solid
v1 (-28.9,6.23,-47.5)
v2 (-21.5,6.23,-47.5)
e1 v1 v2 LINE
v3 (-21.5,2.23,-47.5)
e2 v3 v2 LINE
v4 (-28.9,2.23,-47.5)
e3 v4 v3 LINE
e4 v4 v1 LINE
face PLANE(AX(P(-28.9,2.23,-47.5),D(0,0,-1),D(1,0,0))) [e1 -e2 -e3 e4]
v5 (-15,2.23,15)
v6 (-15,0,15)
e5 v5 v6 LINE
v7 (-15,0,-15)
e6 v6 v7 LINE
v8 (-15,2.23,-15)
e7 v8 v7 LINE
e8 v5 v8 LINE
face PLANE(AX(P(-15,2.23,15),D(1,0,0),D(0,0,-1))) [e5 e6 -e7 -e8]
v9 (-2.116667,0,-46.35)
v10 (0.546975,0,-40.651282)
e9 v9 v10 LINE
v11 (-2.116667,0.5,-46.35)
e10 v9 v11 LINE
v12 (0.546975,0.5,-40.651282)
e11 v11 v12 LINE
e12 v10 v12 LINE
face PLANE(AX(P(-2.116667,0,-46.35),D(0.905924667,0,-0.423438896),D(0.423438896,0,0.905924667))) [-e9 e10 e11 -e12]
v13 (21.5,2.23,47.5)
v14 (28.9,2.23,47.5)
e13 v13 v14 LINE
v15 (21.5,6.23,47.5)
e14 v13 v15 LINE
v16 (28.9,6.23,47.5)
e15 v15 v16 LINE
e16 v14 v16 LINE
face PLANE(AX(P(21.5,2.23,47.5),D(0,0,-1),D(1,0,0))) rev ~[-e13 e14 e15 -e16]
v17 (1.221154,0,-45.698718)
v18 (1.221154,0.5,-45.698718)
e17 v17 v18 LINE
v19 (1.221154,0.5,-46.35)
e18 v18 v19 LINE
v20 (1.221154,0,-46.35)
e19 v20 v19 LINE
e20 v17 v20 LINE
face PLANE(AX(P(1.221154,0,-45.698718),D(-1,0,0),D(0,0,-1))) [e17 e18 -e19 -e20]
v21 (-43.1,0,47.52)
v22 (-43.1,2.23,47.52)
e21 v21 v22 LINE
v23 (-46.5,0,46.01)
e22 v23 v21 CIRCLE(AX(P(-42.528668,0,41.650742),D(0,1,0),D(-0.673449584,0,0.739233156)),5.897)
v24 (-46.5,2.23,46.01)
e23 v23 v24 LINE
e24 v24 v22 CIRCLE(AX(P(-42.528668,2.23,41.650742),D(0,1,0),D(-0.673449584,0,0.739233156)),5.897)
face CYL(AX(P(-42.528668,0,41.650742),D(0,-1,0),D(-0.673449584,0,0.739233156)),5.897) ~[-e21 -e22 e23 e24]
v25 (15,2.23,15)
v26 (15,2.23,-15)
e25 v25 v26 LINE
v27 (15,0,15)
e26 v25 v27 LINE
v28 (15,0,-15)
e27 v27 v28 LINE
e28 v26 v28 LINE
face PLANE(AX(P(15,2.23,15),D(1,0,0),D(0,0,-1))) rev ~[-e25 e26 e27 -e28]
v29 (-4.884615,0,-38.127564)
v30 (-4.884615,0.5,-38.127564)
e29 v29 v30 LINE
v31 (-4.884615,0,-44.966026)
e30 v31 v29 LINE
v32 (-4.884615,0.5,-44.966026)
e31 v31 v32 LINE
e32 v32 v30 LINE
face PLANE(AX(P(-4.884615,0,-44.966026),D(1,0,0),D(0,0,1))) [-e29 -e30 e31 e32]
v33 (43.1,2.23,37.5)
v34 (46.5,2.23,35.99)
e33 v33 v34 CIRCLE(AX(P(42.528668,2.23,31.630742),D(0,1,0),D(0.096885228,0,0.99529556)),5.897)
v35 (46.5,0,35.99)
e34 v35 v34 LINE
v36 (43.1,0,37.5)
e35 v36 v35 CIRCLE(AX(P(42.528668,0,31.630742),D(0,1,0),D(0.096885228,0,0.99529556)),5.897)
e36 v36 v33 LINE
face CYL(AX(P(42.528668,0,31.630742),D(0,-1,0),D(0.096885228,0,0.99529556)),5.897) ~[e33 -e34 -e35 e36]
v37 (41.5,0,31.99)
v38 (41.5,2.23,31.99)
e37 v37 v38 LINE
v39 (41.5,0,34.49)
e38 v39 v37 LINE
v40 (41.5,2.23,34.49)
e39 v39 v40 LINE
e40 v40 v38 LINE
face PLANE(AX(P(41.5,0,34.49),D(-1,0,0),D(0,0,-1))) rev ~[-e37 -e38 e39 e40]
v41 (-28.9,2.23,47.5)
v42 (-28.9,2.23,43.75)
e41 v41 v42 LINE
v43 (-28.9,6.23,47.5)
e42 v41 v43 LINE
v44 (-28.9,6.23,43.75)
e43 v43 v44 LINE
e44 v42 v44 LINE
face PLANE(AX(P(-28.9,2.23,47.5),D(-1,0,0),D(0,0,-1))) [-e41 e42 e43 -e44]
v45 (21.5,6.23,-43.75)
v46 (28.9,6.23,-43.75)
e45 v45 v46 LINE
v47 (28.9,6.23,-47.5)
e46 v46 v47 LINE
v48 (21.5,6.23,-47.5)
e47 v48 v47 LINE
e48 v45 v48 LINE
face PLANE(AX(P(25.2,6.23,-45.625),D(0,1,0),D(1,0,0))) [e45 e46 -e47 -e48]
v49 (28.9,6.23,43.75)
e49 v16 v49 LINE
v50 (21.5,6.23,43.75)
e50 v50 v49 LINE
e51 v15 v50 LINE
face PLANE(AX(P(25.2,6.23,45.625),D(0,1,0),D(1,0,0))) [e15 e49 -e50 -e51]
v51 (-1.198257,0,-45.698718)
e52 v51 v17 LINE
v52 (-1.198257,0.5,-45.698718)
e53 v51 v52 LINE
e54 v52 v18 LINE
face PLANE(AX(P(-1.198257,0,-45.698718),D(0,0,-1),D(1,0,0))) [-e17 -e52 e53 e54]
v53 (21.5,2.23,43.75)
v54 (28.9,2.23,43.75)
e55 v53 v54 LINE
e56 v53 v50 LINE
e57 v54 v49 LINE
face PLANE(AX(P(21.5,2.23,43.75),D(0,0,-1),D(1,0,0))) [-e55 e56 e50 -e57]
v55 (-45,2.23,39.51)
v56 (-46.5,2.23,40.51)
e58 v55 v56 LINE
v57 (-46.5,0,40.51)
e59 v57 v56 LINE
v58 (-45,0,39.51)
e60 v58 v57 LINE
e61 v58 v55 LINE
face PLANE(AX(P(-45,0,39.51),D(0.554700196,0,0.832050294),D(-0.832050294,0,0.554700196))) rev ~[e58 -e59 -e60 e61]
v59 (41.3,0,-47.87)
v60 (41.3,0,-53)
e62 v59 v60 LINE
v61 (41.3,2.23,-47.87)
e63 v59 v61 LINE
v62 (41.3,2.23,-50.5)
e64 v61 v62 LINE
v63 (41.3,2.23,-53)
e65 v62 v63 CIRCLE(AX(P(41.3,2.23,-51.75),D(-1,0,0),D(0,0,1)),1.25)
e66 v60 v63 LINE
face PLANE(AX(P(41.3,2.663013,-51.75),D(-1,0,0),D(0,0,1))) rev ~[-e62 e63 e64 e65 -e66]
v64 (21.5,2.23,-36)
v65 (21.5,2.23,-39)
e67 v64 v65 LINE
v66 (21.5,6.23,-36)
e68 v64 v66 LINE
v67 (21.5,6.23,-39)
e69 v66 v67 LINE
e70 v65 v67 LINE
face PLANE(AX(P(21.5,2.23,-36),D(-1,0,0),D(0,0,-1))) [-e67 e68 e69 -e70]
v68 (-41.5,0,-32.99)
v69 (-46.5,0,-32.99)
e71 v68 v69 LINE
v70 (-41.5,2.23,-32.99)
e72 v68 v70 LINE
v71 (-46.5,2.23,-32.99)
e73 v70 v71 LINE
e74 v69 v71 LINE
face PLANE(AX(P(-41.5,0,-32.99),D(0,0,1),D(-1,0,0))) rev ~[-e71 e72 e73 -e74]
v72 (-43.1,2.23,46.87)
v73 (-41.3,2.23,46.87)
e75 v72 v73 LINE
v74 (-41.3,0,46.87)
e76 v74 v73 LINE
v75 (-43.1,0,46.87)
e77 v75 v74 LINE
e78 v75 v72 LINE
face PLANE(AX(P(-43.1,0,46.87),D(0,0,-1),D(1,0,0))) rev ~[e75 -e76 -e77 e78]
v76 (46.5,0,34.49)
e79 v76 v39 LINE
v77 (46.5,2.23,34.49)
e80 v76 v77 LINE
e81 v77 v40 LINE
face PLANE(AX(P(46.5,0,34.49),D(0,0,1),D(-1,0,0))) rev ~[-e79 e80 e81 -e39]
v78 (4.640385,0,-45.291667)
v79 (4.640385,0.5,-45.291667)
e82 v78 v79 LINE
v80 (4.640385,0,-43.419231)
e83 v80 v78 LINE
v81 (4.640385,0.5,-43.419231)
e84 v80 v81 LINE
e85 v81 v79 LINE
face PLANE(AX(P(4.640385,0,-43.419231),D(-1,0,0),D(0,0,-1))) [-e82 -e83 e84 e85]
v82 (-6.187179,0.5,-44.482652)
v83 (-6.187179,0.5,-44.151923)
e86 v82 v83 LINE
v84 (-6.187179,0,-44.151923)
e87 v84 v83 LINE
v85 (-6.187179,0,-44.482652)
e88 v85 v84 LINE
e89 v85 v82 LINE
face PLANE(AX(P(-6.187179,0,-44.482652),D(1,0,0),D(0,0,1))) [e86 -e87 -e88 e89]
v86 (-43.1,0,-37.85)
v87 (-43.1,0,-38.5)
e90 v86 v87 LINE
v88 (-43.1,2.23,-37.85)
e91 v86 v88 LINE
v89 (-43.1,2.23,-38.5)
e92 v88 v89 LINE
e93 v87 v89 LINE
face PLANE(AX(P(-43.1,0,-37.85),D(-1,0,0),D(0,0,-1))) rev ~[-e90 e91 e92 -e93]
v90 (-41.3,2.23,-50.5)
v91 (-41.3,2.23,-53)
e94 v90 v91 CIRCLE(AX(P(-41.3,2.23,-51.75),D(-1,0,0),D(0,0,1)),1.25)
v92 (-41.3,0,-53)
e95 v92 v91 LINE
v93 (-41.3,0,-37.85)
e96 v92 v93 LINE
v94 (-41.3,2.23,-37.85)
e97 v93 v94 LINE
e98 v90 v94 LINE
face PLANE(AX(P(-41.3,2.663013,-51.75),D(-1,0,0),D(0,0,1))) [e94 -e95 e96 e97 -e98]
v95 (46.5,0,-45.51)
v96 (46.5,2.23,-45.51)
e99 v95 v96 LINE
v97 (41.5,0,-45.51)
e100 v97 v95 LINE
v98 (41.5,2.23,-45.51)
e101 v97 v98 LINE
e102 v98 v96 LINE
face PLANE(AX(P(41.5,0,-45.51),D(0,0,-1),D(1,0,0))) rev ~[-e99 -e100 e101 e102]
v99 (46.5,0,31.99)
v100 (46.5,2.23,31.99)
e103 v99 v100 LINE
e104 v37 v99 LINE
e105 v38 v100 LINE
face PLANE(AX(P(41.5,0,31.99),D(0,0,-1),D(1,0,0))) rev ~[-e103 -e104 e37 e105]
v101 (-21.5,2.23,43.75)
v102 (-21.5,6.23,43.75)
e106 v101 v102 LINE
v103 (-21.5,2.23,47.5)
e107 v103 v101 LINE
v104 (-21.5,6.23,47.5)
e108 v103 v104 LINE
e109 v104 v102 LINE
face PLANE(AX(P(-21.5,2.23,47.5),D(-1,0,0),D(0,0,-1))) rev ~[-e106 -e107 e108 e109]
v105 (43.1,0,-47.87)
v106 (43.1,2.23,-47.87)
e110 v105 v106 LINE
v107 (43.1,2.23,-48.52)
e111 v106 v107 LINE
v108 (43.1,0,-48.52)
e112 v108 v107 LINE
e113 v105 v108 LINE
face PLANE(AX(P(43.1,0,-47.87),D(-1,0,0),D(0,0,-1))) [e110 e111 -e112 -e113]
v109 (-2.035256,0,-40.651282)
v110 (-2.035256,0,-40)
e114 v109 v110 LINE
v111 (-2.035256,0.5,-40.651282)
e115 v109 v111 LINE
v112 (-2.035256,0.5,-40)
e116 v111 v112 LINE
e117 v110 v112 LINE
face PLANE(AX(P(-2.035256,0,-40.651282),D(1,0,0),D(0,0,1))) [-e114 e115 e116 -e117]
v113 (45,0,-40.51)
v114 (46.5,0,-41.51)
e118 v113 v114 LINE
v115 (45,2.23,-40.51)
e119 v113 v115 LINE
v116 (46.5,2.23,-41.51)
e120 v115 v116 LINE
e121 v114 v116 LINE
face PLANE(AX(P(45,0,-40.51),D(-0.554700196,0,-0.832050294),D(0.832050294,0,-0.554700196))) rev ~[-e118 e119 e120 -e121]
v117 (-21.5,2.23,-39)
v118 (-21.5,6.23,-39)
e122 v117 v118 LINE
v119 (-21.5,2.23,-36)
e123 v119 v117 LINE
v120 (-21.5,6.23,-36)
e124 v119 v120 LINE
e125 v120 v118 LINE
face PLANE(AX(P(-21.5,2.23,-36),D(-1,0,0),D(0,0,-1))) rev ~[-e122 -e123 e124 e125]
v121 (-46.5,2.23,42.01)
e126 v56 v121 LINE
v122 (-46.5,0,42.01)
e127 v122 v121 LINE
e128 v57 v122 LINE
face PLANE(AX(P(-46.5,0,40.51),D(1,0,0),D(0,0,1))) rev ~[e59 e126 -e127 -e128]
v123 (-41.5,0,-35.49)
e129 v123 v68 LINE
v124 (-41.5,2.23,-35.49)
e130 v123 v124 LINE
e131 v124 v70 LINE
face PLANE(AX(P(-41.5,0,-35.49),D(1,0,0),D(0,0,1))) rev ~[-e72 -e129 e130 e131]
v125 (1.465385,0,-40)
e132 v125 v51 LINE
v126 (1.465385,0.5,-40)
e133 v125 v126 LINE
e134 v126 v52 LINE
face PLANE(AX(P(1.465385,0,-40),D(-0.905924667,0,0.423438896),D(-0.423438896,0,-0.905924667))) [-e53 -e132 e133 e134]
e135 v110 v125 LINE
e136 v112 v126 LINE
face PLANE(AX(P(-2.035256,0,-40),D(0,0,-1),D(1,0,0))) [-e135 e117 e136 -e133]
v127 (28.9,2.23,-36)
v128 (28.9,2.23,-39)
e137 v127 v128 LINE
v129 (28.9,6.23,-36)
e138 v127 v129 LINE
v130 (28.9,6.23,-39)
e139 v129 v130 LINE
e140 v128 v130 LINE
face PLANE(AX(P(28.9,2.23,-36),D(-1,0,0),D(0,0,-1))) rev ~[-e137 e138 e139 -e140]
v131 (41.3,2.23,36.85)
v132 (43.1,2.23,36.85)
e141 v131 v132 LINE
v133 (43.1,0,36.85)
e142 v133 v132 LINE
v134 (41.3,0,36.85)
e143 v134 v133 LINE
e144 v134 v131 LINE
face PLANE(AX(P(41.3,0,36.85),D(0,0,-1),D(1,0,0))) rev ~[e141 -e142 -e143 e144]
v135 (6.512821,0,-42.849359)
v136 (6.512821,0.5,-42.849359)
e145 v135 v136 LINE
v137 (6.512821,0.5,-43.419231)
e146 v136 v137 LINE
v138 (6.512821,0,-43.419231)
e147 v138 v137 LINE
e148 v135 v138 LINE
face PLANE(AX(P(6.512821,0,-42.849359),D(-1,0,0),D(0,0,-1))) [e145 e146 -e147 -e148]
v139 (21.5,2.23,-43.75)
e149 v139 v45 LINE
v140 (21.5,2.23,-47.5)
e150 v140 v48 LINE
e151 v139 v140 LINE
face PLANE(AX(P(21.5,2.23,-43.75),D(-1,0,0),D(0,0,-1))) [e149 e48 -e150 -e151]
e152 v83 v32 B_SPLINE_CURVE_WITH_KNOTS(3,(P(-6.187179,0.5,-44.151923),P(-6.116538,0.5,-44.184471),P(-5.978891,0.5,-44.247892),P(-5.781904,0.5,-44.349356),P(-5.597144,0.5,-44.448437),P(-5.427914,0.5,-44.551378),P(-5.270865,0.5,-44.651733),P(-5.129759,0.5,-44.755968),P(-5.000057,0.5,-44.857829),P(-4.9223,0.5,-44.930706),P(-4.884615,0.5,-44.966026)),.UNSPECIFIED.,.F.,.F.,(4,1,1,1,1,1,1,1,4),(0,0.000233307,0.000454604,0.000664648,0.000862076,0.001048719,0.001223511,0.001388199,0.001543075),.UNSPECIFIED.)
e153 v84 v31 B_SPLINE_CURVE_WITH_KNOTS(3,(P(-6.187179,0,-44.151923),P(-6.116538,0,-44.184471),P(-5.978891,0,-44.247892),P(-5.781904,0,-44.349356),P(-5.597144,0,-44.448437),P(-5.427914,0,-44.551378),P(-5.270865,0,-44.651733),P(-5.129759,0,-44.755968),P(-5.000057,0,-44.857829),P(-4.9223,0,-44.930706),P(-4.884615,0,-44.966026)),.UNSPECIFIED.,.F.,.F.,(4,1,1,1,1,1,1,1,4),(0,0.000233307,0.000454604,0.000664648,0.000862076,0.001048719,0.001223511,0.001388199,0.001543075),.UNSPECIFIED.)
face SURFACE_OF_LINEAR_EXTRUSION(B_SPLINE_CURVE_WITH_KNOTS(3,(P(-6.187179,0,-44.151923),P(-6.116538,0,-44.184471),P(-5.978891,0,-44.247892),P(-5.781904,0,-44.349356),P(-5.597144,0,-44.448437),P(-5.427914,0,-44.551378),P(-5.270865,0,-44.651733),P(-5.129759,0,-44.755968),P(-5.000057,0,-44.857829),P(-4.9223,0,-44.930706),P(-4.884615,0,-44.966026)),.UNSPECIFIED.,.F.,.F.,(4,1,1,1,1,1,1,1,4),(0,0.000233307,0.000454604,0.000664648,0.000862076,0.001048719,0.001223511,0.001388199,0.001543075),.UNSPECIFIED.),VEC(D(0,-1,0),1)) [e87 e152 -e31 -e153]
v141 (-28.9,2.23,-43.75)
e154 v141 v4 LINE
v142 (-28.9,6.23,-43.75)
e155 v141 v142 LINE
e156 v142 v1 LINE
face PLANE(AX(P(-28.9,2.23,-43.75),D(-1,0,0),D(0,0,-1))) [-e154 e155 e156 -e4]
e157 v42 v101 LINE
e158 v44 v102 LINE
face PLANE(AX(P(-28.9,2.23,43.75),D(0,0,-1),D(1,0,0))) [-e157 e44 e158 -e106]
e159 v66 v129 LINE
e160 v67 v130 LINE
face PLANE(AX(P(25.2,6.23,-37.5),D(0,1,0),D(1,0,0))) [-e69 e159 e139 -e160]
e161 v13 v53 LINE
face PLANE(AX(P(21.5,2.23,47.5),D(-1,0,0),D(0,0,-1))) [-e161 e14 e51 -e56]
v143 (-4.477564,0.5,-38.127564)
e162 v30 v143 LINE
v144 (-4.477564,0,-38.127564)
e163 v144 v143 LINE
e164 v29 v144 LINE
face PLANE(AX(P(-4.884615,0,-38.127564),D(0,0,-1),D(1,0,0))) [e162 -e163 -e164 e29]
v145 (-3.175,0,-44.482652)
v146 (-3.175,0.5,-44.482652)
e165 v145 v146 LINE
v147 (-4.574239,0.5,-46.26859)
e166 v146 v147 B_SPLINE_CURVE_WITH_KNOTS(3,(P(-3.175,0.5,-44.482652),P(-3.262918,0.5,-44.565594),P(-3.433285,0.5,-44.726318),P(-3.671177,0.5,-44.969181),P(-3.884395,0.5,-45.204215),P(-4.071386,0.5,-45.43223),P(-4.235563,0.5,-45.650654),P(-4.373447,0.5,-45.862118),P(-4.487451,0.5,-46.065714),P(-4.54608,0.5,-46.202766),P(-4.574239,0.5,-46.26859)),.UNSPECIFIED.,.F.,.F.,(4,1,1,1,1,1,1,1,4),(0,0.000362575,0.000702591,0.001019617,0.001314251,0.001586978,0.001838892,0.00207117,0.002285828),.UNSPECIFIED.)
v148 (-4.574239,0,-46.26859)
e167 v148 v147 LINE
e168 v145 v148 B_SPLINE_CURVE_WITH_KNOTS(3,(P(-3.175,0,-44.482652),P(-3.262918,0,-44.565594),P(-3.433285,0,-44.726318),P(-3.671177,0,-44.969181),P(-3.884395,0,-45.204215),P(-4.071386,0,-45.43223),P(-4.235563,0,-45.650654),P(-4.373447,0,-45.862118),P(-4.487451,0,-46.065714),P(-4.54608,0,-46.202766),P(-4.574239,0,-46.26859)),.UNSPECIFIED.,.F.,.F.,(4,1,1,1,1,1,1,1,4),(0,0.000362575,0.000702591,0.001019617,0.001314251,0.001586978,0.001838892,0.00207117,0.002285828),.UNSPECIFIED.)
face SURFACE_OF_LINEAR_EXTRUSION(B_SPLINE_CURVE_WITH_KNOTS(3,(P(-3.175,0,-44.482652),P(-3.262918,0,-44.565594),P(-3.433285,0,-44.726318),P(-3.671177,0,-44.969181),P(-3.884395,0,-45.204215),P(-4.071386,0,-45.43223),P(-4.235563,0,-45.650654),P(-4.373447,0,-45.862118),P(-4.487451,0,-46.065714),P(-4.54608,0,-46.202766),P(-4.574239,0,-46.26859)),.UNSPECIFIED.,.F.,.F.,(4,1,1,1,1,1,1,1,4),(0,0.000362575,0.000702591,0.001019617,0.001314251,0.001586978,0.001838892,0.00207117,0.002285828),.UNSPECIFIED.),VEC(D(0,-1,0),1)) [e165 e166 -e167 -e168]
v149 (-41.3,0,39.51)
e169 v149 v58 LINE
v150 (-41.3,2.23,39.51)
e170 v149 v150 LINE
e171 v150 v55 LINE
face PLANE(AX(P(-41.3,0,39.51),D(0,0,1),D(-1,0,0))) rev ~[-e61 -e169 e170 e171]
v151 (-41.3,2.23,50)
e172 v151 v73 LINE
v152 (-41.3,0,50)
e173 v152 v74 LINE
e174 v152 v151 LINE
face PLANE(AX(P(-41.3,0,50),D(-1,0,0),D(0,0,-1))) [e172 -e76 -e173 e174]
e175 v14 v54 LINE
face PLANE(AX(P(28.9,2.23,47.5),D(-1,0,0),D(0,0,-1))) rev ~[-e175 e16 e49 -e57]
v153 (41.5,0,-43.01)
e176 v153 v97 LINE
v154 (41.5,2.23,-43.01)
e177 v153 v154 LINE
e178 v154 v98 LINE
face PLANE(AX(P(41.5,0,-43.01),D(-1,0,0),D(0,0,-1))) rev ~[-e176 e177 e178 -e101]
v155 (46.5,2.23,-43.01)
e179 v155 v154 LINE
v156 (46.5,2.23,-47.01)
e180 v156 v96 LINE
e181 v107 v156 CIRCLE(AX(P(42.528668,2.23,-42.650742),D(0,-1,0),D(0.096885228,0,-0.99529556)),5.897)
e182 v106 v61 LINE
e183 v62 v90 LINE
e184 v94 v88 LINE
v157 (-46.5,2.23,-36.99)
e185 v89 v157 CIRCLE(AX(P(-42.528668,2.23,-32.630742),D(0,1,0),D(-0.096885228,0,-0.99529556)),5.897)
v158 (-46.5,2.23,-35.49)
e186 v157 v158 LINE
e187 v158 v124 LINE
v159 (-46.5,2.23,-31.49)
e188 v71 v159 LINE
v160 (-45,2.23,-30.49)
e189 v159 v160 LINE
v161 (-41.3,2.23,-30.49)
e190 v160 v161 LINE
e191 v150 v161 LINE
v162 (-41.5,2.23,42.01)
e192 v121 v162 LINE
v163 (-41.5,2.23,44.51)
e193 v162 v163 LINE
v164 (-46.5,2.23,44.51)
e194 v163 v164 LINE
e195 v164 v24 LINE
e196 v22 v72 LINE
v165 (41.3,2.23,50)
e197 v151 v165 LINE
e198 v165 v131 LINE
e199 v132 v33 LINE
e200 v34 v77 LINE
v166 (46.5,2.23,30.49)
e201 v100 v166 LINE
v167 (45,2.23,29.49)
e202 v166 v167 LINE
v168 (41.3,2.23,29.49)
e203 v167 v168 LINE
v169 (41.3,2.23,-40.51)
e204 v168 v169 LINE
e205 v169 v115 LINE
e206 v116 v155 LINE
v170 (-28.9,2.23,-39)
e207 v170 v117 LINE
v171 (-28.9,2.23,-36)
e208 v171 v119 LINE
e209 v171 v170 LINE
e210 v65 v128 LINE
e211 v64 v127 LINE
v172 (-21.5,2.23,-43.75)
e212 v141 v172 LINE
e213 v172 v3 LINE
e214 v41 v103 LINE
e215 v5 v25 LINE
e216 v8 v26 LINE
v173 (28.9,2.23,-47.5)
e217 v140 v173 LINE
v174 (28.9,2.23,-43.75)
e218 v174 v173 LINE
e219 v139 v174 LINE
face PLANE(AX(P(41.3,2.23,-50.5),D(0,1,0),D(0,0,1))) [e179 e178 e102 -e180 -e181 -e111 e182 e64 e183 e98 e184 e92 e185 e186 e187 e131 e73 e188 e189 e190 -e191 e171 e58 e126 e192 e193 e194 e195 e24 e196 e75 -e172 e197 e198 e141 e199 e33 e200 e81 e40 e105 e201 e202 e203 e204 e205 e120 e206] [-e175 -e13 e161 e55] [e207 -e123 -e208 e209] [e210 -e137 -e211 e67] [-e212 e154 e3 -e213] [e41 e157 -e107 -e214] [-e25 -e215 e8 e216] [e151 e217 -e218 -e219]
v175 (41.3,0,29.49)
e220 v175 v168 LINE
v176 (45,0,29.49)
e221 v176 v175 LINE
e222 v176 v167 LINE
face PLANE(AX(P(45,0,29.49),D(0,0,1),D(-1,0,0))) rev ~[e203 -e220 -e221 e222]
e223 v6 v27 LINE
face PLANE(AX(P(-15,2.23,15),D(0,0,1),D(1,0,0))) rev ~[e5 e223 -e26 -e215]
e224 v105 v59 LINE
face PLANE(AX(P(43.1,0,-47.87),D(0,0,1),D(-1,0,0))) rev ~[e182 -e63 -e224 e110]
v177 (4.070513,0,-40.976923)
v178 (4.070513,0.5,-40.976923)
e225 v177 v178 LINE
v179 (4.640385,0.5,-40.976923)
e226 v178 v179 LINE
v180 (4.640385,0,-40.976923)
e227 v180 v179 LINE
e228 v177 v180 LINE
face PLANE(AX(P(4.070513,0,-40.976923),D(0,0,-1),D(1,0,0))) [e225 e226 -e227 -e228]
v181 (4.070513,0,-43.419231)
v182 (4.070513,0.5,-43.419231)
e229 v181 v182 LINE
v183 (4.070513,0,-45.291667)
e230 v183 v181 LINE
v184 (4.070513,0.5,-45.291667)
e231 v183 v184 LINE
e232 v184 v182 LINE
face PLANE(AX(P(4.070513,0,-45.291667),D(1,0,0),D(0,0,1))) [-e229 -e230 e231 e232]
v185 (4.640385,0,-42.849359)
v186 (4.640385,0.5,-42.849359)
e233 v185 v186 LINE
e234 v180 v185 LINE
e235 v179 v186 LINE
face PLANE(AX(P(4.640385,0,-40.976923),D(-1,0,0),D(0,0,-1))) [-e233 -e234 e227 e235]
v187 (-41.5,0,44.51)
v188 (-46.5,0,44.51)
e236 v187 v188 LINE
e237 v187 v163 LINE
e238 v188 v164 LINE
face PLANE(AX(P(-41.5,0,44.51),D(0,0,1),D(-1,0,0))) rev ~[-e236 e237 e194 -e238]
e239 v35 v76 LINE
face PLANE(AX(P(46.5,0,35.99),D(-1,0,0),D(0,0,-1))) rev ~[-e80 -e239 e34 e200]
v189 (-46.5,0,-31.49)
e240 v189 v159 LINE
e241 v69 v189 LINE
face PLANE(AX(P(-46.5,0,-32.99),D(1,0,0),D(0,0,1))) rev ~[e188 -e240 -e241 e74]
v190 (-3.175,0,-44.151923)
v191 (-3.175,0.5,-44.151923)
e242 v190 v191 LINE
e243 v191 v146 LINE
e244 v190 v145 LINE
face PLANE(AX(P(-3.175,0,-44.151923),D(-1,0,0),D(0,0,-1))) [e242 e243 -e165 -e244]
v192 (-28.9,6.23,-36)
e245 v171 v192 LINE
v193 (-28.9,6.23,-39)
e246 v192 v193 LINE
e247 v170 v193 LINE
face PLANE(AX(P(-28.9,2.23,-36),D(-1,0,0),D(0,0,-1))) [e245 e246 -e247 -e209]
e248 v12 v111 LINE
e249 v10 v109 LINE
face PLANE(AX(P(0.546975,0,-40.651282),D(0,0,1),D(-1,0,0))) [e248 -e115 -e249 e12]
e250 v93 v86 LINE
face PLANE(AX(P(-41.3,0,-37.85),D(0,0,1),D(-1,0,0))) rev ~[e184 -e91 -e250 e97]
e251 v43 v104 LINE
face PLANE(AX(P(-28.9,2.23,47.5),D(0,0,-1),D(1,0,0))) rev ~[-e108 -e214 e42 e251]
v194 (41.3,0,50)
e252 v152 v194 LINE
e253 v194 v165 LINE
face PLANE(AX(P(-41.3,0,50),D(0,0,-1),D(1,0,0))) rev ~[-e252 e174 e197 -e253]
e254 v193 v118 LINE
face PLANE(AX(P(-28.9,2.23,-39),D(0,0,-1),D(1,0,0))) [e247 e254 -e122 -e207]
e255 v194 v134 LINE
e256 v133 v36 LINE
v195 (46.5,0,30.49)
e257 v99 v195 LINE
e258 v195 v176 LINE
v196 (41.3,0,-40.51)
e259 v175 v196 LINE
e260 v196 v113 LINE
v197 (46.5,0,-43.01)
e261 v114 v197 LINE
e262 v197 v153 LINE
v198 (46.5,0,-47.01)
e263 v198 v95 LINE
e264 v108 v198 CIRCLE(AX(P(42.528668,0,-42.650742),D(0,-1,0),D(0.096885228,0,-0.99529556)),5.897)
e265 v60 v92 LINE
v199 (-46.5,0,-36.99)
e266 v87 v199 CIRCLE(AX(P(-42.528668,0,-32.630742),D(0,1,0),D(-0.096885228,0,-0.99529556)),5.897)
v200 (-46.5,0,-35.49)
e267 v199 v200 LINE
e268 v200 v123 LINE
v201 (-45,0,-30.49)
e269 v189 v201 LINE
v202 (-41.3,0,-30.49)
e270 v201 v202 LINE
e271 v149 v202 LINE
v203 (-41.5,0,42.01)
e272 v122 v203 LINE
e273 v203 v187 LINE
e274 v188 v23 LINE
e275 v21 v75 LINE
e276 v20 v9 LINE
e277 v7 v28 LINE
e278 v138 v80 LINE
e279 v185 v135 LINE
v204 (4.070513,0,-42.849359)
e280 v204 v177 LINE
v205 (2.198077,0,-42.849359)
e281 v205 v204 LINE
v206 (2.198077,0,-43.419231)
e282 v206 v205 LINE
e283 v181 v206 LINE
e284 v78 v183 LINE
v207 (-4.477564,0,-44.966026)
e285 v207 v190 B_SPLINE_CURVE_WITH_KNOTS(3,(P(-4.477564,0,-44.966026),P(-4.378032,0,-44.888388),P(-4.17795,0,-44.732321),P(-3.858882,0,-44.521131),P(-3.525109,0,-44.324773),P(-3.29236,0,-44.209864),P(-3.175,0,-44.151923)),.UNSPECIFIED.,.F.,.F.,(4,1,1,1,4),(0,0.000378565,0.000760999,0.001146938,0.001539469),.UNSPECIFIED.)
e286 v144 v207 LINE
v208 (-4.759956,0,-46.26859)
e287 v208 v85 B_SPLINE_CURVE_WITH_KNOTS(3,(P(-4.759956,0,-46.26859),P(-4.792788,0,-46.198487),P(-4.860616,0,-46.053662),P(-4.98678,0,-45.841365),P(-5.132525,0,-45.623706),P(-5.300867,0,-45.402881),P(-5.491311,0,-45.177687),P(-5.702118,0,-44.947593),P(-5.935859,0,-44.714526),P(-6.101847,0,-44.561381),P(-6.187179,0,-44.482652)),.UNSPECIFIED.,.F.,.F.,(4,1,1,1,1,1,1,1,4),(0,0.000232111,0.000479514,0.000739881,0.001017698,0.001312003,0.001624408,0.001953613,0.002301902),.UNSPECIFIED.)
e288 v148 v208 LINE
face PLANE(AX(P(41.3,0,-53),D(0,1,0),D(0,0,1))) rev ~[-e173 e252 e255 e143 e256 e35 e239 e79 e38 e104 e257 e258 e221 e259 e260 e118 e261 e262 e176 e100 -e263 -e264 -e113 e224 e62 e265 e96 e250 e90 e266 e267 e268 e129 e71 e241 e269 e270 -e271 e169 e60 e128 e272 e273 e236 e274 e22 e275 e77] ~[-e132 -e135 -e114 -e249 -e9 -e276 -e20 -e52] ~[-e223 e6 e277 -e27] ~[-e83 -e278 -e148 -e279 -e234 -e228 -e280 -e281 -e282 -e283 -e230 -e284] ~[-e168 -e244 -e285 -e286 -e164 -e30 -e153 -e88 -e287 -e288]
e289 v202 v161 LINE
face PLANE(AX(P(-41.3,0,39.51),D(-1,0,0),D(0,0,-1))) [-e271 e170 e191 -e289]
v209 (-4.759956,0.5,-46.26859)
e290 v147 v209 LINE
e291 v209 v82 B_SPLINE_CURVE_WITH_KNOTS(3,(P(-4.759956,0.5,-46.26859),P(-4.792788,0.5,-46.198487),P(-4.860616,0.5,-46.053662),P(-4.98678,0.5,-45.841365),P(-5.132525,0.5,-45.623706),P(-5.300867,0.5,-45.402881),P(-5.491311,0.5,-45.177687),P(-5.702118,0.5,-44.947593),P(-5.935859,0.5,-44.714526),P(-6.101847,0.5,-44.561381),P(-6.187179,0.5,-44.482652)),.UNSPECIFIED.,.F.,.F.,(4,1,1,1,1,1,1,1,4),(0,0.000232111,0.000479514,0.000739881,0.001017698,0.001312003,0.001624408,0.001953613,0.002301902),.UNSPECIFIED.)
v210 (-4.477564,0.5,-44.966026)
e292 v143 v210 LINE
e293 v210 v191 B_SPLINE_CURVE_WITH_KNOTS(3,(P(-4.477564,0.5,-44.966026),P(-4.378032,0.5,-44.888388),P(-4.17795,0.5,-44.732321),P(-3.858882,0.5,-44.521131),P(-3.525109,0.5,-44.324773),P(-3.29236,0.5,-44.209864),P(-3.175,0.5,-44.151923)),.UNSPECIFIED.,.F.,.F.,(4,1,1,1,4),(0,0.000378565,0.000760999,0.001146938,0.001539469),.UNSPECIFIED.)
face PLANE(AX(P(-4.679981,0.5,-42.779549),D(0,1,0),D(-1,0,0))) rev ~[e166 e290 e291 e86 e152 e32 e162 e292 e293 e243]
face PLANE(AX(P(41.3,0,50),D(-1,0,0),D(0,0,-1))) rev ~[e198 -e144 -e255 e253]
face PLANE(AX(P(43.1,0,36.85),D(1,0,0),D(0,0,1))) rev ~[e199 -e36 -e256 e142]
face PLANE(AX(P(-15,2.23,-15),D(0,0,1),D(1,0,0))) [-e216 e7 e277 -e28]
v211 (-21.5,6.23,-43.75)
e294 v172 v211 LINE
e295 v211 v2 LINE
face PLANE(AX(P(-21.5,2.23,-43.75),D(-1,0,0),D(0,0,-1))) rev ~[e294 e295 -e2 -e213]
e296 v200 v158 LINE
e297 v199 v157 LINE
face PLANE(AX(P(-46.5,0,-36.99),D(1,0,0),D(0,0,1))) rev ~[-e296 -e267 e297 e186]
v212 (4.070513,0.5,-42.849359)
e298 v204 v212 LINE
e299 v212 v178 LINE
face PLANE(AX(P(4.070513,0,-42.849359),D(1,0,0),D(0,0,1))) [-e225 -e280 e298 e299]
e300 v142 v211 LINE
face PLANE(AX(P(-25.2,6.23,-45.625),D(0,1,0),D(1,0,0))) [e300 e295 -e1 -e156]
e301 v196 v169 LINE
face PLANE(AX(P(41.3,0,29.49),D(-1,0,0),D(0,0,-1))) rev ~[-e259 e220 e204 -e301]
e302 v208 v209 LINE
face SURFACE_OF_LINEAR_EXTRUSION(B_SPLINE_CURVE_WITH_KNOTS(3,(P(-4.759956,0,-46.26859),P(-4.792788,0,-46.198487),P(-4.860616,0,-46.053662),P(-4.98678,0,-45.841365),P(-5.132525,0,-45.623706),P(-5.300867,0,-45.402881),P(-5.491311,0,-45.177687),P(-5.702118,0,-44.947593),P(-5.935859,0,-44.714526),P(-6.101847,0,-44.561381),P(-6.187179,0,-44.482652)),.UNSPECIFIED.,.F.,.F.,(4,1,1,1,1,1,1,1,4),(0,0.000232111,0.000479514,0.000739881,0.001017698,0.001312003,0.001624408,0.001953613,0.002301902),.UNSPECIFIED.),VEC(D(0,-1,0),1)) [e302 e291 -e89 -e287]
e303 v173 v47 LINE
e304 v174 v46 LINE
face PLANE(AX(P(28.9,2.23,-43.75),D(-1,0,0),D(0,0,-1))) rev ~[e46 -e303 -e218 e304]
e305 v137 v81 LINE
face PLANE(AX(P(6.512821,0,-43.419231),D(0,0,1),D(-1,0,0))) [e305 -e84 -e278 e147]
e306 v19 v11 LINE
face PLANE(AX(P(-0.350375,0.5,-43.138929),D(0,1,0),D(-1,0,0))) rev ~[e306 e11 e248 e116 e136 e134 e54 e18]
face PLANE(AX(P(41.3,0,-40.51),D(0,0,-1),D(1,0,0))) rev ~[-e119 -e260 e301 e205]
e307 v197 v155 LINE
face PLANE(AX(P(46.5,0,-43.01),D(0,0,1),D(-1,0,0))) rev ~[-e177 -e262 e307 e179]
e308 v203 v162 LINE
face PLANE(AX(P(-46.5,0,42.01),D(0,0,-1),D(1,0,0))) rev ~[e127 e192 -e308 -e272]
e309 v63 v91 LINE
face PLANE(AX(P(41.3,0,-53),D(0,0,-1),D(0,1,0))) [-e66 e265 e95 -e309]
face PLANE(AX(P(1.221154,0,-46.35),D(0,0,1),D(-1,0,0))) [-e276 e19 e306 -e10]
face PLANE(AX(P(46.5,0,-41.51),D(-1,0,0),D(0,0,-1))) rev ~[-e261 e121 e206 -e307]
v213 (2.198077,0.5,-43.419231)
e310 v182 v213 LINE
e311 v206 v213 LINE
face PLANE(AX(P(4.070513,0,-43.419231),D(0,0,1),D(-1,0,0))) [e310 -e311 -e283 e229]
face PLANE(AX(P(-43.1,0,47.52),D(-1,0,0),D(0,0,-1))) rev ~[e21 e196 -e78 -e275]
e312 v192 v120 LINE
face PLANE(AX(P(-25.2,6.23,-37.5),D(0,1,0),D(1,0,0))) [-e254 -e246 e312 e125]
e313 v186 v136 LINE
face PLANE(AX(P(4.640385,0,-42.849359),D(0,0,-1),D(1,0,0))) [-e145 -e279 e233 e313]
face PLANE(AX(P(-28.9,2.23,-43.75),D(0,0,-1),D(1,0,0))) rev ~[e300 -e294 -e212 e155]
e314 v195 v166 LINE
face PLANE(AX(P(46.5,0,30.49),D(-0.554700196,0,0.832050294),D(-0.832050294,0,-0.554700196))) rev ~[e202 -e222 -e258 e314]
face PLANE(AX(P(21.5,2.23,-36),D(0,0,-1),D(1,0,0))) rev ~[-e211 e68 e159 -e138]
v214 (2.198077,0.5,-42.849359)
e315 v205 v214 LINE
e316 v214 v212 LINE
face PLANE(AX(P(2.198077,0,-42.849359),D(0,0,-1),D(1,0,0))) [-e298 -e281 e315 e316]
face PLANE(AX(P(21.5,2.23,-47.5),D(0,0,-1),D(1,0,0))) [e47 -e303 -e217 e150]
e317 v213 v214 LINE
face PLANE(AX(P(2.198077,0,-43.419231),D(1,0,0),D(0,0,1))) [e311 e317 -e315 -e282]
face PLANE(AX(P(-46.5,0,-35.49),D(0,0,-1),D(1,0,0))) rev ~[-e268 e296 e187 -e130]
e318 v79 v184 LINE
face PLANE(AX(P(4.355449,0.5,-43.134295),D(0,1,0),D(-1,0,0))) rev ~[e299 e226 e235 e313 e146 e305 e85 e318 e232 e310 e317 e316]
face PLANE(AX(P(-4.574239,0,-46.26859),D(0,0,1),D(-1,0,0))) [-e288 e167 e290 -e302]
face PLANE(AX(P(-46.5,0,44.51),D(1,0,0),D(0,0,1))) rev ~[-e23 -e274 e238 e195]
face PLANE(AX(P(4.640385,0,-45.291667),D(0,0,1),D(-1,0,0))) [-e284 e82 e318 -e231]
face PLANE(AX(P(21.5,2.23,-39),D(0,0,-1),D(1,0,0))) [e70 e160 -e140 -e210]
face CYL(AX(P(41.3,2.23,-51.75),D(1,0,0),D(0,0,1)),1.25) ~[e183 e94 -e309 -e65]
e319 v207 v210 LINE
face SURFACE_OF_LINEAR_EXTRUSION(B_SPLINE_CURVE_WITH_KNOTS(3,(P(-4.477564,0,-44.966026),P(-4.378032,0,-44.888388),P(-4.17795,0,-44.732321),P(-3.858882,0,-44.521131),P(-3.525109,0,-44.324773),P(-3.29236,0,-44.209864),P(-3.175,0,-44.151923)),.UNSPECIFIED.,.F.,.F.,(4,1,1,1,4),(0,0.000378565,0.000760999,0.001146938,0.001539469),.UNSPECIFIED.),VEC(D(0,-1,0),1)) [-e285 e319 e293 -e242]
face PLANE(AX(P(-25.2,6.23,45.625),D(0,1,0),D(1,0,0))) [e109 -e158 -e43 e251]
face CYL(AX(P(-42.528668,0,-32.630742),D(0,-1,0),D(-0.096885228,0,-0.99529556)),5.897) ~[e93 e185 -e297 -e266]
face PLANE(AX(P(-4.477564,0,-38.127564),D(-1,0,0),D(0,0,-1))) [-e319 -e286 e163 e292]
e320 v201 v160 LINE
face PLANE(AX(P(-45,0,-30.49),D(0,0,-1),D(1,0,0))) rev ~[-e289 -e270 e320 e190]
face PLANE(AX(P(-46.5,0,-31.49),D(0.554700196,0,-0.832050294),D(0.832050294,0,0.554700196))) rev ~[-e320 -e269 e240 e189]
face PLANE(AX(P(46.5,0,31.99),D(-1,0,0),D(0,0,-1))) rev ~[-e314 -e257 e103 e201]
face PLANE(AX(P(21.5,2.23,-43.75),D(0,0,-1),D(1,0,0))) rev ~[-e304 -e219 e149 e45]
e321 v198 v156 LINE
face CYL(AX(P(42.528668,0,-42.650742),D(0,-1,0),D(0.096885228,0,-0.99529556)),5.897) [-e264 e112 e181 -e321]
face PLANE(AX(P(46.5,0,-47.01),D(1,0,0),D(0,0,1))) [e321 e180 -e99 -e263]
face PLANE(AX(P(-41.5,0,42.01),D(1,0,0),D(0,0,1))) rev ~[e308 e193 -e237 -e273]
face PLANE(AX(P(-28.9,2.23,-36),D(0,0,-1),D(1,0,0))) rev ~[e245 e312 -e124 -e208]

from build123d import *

# Parameters (mm, degrees)
SKETCH1_W           = 0.2
SKETCH1_H           = 2.5
SKETCH1_W_2         = 82.6
SKETCH1_H_2         = 100
BOSS_EXTRUDE1_DEPTH = 2.23
SKETCH2_W           = 7.4
SKETCH2_H           = 3.75
SKETCH2_H_2         = 3
BOSS_EXTRUDE2_DEPTH = 4
SKETCH3_W           = 30
SKETCH3_H           = 30
CUT_EXTRUDE1_DEPTH  = 10
BOSS_EXTRUDE3_START = -82.6
SKETCH4_W           = 3
SKETCH4_H           = 2.23
BOSS_EXTRUDE3_DEPTH = 82.6
CUT_EXTRUDE2_DEPTH  = 0.5


with BuildPart() as part:
    # Sketch1 → Boss-Extrude1 (new body)
    with BuildSketch(Plane(origin=(0, 0, 0), x_dir=(1, 0, 0), z_dir=(0, 1, 0))):
        with BuildLine():
            Line((43.1, -36.85), (43.1, -37.5))
            ThreePointArc((43.1, -37.5), (44.922195524, -37.020142239), (46.5, -35.99))
            Line((46.5, -35.99), (46.5, -34.49))
            Line((46.5, -34.49), (43.1, -34.49))
            Line((43.1, -34.49), (43.1, -36.85))
        make_face()
        Polygon((41.5, -34.49), (41.3, -34.49), (41.3, -36.85), (43.1, -36.85), (43.1, -34.49), align=None)
        Polygon((45, -29.49), (41.3, -29.49), (41.3, -31.99), (41.5, -31.99), (46.5, -31.99), (46.5, -30.49), align=None)
        with Locations((41.4, -33.24)):
            Rectangle(SKETCH1_W, SKETCH1_H)
        Rectangle(SKETCH1_W_2, SKETCH1_H_2)
        Polygon((46.5, 43.01), (41.5, 43.01), (41.3, 43.01), (41.3, 40.51), (45, 40.51), (46.5, 41.51), align=None)
        with Locations((41.4, 44.26)):
            Rectangle(SKETCH1_W, SKETCH1_H)
        Polygon((41.5, 45.51), (43.1, 45.51), (43.1, 47.87), (41.3, 47.87), (41.3, 45.51), align=None)
        with BuildLine():
            ThreePointArc((43.1, 48.52), (44.922195524, 48.040142239), (46.5, 47.01))
            Line((46.5, 47.01), (46.5, 45.51))
            Line((46.5, 45.51), (43.1, 45.51))
            Line((43.1, 45.51), (43.1, 47.87))
            Line((43.1, 47.87), (43.1, 48.52))
        make_face()
        with BuildLine():
            Line((-43.1, -46.87), (-41.3, -46.87))
            Line((-41.3, -46.87), (-41.3, -44.51))
            Line((-41.3, -44.51), (-41.5, -44.51))
            Line((-41.5, -44.51), (-46.5, -44.51))
            Line((-46.5, -44.51), (-46.5, -46.01))
            ThreePointArc((-46.5, -46.01), (-44.922195524, -47.040142239), (-43.1, -47.52))
            Line((-43.1, -47.52), (-43.1, -46.87))
        make_face()
        Polygon((-41.3, -44.51), (-41.3, -39.51), (-45, -39.51), (-46.5, -40.51), (-46.5, -42.01), (-41.5, -42.01), (-41.5, -44.51), align=None)
        Polygon((-41.3, 30.49), (-41.3, 35.49), (-41.5, 35.49), (-41.5, 32.99), (-46.5, 32.99), (-46.5, 31.49), (-45, 30.49), align=None)
        with BuildLine():
            Line((-41.3, 35.49), (-41.3, 37.85))
            Line((-41.3, 37.85), (-43.1, 37.85))
            Line((-43.1, 37.85), (-43.1, 38.5))
            ThreePointArc((-43.1, 38.5), (-44.922195524, 38.020142239), (-46.5, 36.99))
            Line((-46.5, 36.99), (-46.5, 35.49))
            Line((-46.5, 35.49), (-41.5, 35.49))
            Line((-41.5, 35.49), (-41.3, 35.49))
        make_face()
    extrude(amount=BOSS_EXTRUDE1_DEPTH)

    # Sketch2 → Boss-Extrude2 (add)
    with BuildSketch(Plane(origin=(0, 2.23, 0), x_dir=(1, 0, 0), z_dir=(0, 1, 0))):
        with Locations((-25.2, -45.625)):
            Rectangle(SKETCH2_W, SKETCH2_H)
        with Locations((25.2, -45.625)):
            Rectangle(SKETCH2_W, SKETCH2_H)
        with Locations((25.2, 45.625)):
            Rectangle(SKETCH2_W, SKETCH2_H)
        with Locations((-25.2, 45.625)):
            Rectangle(SKETCH2_W, SKETCH2_H)
        with Locations((-25.2, 37.5)):
            Rectangle(SKETCH2_W, SKETCH2_H_2)
        with Locations((25.2, 37.5)):
            Rectangle(SKETCH2_W, SKETCH2_H_2)
    extrude(amount=BOSS_EXTRUDE2_DEPTH)

    # Sketch3 → Cut-Extrude1 (cut)
    with BuildSketch(Plane(origin=(0, 2.23, 0), x_dir=(1, 0, 0), z_dir=(0, 1, 0))):
        Rectangle(SKETCH3_W, SKETCH3_H)
    extrude(amount=-CUT_EXTRUDE1_DEPTH, mode=Mode.SUBTRACT)

    # Sketch4 → Boss-Extrude3 (add)
    with BuildSketch(Plane.ZY.offset(41.3).offset(BOSS_EXTRUDE3_START)):
        with BuildLine():
            ThreePointArc((-50.5, 2.23), (-51.75, 3.48), (-53, 2.23))
            Line((-53, 2.23), (-50.5, 2.23))
        make_face()
        with Locations((-51.5, 1.115)):
            Rectangle(SKETCH4_W, SKETCH4_H)
    extrude(amount=BOSS_EXTRUDE3_DEPTH)

    # Sketch5 → Cut-Extrude2 (cut)
    with BuildSketch(Plane.XZ):
        Polygon((4.640384615, -43.419230769), (4.640384615, -45.291666667), (4.070512821, -45.291666667), (4.070512821, -43.419230769), (2.198076923, -43.419230769), (2.198076923, -42.849358974), (4.070512821, -42.849358974), (4.070512821, -40.976923077), (4.640384615, -40.976923077), (4.640384615, -42.849358974), (6.512820513, -42.849358974), (6.512820513, -43.419230769), align=None)
        Polygon((1.221153846, -45.698717949), (1.221153846, -46.35), (-2.116666667, -46.35), (0.54697516, -40.651282051), (-2.03525641, -40.651282051), (-2.03525641, -40), (1.465384615, -40), (-1.198257212, -45.698717949), align=None)
        with BuildLine():
            add(Edge.make_bspline(
                [(-3.175, -44.482652244), (-3.262918211, -44.565594294), (-3.433284709, -44.726318068), (-3.671176807, -44.969181062), (-3.884395029, -45.204215059), (-4.071386431, -45.432230465), (-4.235563138, -45.650653984), (-4.373446797, -45.862117777), (-4.487450991, -46.065713922), (-4.546079998, -46.202765549), (-4.574238782, -46.268589744)],
                knots=[0, 0, 0, 0, 0.000362575, 0.000702591, 0.001019617, 0.001314251, 0.001586978, 0.001838892, 0.00207117, 0.002285828, 0.002285828, 0.002285828, 0.002285828], degree=3))
            Line((-4.574238782, -46.268589744), (-4.759955929, -46.268589744))
            add(Edge.make_bspline(
                [(-4.759955929, -46.268589744), (-4.792788221, -46.198486652), (-4.860615985, -46.053661673), (-4.986779978, -45.841364869), (-5.132525091, -45.623706079), (-5.300867212, -45.402881295), (-5.491310702, -45.177687257), (-5.702118152, -44.94759275), (-5.93585869, -44.714525691), (-6.101847246, -44.561381426), (-6.187179487, -44.482652244)],
                knots=[0, 0, 0, 0, 0.000232111, 0.000479514, 0.000739881, 0.001017698, 0.001312003, 0.001624408, 0.001953613, 0.002301902, 0.002301902, 0.002301902, 0.002301902], degree=3))
            Line((-6.187179487, -44.482652244), (-6.187179487, -44.151923077))
            add(Edge.make_bspline(
                [(-6.187179487, -44.151923077), (-6.116537815, -44.184471117), (-5.978890638, -44.247891839), (-5.781903944, -44.34935602), (-5.597143614, -44.448436612), (-5.427913951, -44.551377879), (-5.270864773, -44.651733434), (-5.129759329, -44.755968393), (-5.000056754, -44.857829341), (-4.922299946, -44.930706152), (-4.884615385, -44.966025641)],
                knots=[0, 0, 0, 0, 0.000233307, 0.000454604, 0.000664648, 0.000862076, 0.001048719, 0.001223511, 0.001388199, 0.001543075, 0.001543075, 0.001543075, 0.001543075], degree=3))
            Line((-4.884615385, -44.966025641), (-4.884615385, -38.127564103))
            Line((-4.884615385, -38.127564103), (-4.477564103, -38.127564103))
            Line((-4.477564103, -38.127564103), (-4.477564103, -44.966025641))
            add(Edge.make_bspline(
                [(-4.477564103, -44.966025641), (-4.378031962, -44.888388472), (-4.177950241, -44.732320508), (-3.858882125, -44.521130617), (-3.525108924, -44.32477265), (-3.292360048, -44.209864), (-3.175, -44.151923077)],
                knots=[0, 0, 0, 0, 0.000378565, 0.000760999, 0.001146938, 0.001539469, 0.001539469, 0.001539469, 0.001539469], degree=3))
            Line((-3.175, -44.151923077), (-3.175, -44.482652244))
        make_face()
    extrude(amount=-CUT_EXTRUDE2_DEPTH, mode=Mode.SUBTRACT)


solid = part.part
